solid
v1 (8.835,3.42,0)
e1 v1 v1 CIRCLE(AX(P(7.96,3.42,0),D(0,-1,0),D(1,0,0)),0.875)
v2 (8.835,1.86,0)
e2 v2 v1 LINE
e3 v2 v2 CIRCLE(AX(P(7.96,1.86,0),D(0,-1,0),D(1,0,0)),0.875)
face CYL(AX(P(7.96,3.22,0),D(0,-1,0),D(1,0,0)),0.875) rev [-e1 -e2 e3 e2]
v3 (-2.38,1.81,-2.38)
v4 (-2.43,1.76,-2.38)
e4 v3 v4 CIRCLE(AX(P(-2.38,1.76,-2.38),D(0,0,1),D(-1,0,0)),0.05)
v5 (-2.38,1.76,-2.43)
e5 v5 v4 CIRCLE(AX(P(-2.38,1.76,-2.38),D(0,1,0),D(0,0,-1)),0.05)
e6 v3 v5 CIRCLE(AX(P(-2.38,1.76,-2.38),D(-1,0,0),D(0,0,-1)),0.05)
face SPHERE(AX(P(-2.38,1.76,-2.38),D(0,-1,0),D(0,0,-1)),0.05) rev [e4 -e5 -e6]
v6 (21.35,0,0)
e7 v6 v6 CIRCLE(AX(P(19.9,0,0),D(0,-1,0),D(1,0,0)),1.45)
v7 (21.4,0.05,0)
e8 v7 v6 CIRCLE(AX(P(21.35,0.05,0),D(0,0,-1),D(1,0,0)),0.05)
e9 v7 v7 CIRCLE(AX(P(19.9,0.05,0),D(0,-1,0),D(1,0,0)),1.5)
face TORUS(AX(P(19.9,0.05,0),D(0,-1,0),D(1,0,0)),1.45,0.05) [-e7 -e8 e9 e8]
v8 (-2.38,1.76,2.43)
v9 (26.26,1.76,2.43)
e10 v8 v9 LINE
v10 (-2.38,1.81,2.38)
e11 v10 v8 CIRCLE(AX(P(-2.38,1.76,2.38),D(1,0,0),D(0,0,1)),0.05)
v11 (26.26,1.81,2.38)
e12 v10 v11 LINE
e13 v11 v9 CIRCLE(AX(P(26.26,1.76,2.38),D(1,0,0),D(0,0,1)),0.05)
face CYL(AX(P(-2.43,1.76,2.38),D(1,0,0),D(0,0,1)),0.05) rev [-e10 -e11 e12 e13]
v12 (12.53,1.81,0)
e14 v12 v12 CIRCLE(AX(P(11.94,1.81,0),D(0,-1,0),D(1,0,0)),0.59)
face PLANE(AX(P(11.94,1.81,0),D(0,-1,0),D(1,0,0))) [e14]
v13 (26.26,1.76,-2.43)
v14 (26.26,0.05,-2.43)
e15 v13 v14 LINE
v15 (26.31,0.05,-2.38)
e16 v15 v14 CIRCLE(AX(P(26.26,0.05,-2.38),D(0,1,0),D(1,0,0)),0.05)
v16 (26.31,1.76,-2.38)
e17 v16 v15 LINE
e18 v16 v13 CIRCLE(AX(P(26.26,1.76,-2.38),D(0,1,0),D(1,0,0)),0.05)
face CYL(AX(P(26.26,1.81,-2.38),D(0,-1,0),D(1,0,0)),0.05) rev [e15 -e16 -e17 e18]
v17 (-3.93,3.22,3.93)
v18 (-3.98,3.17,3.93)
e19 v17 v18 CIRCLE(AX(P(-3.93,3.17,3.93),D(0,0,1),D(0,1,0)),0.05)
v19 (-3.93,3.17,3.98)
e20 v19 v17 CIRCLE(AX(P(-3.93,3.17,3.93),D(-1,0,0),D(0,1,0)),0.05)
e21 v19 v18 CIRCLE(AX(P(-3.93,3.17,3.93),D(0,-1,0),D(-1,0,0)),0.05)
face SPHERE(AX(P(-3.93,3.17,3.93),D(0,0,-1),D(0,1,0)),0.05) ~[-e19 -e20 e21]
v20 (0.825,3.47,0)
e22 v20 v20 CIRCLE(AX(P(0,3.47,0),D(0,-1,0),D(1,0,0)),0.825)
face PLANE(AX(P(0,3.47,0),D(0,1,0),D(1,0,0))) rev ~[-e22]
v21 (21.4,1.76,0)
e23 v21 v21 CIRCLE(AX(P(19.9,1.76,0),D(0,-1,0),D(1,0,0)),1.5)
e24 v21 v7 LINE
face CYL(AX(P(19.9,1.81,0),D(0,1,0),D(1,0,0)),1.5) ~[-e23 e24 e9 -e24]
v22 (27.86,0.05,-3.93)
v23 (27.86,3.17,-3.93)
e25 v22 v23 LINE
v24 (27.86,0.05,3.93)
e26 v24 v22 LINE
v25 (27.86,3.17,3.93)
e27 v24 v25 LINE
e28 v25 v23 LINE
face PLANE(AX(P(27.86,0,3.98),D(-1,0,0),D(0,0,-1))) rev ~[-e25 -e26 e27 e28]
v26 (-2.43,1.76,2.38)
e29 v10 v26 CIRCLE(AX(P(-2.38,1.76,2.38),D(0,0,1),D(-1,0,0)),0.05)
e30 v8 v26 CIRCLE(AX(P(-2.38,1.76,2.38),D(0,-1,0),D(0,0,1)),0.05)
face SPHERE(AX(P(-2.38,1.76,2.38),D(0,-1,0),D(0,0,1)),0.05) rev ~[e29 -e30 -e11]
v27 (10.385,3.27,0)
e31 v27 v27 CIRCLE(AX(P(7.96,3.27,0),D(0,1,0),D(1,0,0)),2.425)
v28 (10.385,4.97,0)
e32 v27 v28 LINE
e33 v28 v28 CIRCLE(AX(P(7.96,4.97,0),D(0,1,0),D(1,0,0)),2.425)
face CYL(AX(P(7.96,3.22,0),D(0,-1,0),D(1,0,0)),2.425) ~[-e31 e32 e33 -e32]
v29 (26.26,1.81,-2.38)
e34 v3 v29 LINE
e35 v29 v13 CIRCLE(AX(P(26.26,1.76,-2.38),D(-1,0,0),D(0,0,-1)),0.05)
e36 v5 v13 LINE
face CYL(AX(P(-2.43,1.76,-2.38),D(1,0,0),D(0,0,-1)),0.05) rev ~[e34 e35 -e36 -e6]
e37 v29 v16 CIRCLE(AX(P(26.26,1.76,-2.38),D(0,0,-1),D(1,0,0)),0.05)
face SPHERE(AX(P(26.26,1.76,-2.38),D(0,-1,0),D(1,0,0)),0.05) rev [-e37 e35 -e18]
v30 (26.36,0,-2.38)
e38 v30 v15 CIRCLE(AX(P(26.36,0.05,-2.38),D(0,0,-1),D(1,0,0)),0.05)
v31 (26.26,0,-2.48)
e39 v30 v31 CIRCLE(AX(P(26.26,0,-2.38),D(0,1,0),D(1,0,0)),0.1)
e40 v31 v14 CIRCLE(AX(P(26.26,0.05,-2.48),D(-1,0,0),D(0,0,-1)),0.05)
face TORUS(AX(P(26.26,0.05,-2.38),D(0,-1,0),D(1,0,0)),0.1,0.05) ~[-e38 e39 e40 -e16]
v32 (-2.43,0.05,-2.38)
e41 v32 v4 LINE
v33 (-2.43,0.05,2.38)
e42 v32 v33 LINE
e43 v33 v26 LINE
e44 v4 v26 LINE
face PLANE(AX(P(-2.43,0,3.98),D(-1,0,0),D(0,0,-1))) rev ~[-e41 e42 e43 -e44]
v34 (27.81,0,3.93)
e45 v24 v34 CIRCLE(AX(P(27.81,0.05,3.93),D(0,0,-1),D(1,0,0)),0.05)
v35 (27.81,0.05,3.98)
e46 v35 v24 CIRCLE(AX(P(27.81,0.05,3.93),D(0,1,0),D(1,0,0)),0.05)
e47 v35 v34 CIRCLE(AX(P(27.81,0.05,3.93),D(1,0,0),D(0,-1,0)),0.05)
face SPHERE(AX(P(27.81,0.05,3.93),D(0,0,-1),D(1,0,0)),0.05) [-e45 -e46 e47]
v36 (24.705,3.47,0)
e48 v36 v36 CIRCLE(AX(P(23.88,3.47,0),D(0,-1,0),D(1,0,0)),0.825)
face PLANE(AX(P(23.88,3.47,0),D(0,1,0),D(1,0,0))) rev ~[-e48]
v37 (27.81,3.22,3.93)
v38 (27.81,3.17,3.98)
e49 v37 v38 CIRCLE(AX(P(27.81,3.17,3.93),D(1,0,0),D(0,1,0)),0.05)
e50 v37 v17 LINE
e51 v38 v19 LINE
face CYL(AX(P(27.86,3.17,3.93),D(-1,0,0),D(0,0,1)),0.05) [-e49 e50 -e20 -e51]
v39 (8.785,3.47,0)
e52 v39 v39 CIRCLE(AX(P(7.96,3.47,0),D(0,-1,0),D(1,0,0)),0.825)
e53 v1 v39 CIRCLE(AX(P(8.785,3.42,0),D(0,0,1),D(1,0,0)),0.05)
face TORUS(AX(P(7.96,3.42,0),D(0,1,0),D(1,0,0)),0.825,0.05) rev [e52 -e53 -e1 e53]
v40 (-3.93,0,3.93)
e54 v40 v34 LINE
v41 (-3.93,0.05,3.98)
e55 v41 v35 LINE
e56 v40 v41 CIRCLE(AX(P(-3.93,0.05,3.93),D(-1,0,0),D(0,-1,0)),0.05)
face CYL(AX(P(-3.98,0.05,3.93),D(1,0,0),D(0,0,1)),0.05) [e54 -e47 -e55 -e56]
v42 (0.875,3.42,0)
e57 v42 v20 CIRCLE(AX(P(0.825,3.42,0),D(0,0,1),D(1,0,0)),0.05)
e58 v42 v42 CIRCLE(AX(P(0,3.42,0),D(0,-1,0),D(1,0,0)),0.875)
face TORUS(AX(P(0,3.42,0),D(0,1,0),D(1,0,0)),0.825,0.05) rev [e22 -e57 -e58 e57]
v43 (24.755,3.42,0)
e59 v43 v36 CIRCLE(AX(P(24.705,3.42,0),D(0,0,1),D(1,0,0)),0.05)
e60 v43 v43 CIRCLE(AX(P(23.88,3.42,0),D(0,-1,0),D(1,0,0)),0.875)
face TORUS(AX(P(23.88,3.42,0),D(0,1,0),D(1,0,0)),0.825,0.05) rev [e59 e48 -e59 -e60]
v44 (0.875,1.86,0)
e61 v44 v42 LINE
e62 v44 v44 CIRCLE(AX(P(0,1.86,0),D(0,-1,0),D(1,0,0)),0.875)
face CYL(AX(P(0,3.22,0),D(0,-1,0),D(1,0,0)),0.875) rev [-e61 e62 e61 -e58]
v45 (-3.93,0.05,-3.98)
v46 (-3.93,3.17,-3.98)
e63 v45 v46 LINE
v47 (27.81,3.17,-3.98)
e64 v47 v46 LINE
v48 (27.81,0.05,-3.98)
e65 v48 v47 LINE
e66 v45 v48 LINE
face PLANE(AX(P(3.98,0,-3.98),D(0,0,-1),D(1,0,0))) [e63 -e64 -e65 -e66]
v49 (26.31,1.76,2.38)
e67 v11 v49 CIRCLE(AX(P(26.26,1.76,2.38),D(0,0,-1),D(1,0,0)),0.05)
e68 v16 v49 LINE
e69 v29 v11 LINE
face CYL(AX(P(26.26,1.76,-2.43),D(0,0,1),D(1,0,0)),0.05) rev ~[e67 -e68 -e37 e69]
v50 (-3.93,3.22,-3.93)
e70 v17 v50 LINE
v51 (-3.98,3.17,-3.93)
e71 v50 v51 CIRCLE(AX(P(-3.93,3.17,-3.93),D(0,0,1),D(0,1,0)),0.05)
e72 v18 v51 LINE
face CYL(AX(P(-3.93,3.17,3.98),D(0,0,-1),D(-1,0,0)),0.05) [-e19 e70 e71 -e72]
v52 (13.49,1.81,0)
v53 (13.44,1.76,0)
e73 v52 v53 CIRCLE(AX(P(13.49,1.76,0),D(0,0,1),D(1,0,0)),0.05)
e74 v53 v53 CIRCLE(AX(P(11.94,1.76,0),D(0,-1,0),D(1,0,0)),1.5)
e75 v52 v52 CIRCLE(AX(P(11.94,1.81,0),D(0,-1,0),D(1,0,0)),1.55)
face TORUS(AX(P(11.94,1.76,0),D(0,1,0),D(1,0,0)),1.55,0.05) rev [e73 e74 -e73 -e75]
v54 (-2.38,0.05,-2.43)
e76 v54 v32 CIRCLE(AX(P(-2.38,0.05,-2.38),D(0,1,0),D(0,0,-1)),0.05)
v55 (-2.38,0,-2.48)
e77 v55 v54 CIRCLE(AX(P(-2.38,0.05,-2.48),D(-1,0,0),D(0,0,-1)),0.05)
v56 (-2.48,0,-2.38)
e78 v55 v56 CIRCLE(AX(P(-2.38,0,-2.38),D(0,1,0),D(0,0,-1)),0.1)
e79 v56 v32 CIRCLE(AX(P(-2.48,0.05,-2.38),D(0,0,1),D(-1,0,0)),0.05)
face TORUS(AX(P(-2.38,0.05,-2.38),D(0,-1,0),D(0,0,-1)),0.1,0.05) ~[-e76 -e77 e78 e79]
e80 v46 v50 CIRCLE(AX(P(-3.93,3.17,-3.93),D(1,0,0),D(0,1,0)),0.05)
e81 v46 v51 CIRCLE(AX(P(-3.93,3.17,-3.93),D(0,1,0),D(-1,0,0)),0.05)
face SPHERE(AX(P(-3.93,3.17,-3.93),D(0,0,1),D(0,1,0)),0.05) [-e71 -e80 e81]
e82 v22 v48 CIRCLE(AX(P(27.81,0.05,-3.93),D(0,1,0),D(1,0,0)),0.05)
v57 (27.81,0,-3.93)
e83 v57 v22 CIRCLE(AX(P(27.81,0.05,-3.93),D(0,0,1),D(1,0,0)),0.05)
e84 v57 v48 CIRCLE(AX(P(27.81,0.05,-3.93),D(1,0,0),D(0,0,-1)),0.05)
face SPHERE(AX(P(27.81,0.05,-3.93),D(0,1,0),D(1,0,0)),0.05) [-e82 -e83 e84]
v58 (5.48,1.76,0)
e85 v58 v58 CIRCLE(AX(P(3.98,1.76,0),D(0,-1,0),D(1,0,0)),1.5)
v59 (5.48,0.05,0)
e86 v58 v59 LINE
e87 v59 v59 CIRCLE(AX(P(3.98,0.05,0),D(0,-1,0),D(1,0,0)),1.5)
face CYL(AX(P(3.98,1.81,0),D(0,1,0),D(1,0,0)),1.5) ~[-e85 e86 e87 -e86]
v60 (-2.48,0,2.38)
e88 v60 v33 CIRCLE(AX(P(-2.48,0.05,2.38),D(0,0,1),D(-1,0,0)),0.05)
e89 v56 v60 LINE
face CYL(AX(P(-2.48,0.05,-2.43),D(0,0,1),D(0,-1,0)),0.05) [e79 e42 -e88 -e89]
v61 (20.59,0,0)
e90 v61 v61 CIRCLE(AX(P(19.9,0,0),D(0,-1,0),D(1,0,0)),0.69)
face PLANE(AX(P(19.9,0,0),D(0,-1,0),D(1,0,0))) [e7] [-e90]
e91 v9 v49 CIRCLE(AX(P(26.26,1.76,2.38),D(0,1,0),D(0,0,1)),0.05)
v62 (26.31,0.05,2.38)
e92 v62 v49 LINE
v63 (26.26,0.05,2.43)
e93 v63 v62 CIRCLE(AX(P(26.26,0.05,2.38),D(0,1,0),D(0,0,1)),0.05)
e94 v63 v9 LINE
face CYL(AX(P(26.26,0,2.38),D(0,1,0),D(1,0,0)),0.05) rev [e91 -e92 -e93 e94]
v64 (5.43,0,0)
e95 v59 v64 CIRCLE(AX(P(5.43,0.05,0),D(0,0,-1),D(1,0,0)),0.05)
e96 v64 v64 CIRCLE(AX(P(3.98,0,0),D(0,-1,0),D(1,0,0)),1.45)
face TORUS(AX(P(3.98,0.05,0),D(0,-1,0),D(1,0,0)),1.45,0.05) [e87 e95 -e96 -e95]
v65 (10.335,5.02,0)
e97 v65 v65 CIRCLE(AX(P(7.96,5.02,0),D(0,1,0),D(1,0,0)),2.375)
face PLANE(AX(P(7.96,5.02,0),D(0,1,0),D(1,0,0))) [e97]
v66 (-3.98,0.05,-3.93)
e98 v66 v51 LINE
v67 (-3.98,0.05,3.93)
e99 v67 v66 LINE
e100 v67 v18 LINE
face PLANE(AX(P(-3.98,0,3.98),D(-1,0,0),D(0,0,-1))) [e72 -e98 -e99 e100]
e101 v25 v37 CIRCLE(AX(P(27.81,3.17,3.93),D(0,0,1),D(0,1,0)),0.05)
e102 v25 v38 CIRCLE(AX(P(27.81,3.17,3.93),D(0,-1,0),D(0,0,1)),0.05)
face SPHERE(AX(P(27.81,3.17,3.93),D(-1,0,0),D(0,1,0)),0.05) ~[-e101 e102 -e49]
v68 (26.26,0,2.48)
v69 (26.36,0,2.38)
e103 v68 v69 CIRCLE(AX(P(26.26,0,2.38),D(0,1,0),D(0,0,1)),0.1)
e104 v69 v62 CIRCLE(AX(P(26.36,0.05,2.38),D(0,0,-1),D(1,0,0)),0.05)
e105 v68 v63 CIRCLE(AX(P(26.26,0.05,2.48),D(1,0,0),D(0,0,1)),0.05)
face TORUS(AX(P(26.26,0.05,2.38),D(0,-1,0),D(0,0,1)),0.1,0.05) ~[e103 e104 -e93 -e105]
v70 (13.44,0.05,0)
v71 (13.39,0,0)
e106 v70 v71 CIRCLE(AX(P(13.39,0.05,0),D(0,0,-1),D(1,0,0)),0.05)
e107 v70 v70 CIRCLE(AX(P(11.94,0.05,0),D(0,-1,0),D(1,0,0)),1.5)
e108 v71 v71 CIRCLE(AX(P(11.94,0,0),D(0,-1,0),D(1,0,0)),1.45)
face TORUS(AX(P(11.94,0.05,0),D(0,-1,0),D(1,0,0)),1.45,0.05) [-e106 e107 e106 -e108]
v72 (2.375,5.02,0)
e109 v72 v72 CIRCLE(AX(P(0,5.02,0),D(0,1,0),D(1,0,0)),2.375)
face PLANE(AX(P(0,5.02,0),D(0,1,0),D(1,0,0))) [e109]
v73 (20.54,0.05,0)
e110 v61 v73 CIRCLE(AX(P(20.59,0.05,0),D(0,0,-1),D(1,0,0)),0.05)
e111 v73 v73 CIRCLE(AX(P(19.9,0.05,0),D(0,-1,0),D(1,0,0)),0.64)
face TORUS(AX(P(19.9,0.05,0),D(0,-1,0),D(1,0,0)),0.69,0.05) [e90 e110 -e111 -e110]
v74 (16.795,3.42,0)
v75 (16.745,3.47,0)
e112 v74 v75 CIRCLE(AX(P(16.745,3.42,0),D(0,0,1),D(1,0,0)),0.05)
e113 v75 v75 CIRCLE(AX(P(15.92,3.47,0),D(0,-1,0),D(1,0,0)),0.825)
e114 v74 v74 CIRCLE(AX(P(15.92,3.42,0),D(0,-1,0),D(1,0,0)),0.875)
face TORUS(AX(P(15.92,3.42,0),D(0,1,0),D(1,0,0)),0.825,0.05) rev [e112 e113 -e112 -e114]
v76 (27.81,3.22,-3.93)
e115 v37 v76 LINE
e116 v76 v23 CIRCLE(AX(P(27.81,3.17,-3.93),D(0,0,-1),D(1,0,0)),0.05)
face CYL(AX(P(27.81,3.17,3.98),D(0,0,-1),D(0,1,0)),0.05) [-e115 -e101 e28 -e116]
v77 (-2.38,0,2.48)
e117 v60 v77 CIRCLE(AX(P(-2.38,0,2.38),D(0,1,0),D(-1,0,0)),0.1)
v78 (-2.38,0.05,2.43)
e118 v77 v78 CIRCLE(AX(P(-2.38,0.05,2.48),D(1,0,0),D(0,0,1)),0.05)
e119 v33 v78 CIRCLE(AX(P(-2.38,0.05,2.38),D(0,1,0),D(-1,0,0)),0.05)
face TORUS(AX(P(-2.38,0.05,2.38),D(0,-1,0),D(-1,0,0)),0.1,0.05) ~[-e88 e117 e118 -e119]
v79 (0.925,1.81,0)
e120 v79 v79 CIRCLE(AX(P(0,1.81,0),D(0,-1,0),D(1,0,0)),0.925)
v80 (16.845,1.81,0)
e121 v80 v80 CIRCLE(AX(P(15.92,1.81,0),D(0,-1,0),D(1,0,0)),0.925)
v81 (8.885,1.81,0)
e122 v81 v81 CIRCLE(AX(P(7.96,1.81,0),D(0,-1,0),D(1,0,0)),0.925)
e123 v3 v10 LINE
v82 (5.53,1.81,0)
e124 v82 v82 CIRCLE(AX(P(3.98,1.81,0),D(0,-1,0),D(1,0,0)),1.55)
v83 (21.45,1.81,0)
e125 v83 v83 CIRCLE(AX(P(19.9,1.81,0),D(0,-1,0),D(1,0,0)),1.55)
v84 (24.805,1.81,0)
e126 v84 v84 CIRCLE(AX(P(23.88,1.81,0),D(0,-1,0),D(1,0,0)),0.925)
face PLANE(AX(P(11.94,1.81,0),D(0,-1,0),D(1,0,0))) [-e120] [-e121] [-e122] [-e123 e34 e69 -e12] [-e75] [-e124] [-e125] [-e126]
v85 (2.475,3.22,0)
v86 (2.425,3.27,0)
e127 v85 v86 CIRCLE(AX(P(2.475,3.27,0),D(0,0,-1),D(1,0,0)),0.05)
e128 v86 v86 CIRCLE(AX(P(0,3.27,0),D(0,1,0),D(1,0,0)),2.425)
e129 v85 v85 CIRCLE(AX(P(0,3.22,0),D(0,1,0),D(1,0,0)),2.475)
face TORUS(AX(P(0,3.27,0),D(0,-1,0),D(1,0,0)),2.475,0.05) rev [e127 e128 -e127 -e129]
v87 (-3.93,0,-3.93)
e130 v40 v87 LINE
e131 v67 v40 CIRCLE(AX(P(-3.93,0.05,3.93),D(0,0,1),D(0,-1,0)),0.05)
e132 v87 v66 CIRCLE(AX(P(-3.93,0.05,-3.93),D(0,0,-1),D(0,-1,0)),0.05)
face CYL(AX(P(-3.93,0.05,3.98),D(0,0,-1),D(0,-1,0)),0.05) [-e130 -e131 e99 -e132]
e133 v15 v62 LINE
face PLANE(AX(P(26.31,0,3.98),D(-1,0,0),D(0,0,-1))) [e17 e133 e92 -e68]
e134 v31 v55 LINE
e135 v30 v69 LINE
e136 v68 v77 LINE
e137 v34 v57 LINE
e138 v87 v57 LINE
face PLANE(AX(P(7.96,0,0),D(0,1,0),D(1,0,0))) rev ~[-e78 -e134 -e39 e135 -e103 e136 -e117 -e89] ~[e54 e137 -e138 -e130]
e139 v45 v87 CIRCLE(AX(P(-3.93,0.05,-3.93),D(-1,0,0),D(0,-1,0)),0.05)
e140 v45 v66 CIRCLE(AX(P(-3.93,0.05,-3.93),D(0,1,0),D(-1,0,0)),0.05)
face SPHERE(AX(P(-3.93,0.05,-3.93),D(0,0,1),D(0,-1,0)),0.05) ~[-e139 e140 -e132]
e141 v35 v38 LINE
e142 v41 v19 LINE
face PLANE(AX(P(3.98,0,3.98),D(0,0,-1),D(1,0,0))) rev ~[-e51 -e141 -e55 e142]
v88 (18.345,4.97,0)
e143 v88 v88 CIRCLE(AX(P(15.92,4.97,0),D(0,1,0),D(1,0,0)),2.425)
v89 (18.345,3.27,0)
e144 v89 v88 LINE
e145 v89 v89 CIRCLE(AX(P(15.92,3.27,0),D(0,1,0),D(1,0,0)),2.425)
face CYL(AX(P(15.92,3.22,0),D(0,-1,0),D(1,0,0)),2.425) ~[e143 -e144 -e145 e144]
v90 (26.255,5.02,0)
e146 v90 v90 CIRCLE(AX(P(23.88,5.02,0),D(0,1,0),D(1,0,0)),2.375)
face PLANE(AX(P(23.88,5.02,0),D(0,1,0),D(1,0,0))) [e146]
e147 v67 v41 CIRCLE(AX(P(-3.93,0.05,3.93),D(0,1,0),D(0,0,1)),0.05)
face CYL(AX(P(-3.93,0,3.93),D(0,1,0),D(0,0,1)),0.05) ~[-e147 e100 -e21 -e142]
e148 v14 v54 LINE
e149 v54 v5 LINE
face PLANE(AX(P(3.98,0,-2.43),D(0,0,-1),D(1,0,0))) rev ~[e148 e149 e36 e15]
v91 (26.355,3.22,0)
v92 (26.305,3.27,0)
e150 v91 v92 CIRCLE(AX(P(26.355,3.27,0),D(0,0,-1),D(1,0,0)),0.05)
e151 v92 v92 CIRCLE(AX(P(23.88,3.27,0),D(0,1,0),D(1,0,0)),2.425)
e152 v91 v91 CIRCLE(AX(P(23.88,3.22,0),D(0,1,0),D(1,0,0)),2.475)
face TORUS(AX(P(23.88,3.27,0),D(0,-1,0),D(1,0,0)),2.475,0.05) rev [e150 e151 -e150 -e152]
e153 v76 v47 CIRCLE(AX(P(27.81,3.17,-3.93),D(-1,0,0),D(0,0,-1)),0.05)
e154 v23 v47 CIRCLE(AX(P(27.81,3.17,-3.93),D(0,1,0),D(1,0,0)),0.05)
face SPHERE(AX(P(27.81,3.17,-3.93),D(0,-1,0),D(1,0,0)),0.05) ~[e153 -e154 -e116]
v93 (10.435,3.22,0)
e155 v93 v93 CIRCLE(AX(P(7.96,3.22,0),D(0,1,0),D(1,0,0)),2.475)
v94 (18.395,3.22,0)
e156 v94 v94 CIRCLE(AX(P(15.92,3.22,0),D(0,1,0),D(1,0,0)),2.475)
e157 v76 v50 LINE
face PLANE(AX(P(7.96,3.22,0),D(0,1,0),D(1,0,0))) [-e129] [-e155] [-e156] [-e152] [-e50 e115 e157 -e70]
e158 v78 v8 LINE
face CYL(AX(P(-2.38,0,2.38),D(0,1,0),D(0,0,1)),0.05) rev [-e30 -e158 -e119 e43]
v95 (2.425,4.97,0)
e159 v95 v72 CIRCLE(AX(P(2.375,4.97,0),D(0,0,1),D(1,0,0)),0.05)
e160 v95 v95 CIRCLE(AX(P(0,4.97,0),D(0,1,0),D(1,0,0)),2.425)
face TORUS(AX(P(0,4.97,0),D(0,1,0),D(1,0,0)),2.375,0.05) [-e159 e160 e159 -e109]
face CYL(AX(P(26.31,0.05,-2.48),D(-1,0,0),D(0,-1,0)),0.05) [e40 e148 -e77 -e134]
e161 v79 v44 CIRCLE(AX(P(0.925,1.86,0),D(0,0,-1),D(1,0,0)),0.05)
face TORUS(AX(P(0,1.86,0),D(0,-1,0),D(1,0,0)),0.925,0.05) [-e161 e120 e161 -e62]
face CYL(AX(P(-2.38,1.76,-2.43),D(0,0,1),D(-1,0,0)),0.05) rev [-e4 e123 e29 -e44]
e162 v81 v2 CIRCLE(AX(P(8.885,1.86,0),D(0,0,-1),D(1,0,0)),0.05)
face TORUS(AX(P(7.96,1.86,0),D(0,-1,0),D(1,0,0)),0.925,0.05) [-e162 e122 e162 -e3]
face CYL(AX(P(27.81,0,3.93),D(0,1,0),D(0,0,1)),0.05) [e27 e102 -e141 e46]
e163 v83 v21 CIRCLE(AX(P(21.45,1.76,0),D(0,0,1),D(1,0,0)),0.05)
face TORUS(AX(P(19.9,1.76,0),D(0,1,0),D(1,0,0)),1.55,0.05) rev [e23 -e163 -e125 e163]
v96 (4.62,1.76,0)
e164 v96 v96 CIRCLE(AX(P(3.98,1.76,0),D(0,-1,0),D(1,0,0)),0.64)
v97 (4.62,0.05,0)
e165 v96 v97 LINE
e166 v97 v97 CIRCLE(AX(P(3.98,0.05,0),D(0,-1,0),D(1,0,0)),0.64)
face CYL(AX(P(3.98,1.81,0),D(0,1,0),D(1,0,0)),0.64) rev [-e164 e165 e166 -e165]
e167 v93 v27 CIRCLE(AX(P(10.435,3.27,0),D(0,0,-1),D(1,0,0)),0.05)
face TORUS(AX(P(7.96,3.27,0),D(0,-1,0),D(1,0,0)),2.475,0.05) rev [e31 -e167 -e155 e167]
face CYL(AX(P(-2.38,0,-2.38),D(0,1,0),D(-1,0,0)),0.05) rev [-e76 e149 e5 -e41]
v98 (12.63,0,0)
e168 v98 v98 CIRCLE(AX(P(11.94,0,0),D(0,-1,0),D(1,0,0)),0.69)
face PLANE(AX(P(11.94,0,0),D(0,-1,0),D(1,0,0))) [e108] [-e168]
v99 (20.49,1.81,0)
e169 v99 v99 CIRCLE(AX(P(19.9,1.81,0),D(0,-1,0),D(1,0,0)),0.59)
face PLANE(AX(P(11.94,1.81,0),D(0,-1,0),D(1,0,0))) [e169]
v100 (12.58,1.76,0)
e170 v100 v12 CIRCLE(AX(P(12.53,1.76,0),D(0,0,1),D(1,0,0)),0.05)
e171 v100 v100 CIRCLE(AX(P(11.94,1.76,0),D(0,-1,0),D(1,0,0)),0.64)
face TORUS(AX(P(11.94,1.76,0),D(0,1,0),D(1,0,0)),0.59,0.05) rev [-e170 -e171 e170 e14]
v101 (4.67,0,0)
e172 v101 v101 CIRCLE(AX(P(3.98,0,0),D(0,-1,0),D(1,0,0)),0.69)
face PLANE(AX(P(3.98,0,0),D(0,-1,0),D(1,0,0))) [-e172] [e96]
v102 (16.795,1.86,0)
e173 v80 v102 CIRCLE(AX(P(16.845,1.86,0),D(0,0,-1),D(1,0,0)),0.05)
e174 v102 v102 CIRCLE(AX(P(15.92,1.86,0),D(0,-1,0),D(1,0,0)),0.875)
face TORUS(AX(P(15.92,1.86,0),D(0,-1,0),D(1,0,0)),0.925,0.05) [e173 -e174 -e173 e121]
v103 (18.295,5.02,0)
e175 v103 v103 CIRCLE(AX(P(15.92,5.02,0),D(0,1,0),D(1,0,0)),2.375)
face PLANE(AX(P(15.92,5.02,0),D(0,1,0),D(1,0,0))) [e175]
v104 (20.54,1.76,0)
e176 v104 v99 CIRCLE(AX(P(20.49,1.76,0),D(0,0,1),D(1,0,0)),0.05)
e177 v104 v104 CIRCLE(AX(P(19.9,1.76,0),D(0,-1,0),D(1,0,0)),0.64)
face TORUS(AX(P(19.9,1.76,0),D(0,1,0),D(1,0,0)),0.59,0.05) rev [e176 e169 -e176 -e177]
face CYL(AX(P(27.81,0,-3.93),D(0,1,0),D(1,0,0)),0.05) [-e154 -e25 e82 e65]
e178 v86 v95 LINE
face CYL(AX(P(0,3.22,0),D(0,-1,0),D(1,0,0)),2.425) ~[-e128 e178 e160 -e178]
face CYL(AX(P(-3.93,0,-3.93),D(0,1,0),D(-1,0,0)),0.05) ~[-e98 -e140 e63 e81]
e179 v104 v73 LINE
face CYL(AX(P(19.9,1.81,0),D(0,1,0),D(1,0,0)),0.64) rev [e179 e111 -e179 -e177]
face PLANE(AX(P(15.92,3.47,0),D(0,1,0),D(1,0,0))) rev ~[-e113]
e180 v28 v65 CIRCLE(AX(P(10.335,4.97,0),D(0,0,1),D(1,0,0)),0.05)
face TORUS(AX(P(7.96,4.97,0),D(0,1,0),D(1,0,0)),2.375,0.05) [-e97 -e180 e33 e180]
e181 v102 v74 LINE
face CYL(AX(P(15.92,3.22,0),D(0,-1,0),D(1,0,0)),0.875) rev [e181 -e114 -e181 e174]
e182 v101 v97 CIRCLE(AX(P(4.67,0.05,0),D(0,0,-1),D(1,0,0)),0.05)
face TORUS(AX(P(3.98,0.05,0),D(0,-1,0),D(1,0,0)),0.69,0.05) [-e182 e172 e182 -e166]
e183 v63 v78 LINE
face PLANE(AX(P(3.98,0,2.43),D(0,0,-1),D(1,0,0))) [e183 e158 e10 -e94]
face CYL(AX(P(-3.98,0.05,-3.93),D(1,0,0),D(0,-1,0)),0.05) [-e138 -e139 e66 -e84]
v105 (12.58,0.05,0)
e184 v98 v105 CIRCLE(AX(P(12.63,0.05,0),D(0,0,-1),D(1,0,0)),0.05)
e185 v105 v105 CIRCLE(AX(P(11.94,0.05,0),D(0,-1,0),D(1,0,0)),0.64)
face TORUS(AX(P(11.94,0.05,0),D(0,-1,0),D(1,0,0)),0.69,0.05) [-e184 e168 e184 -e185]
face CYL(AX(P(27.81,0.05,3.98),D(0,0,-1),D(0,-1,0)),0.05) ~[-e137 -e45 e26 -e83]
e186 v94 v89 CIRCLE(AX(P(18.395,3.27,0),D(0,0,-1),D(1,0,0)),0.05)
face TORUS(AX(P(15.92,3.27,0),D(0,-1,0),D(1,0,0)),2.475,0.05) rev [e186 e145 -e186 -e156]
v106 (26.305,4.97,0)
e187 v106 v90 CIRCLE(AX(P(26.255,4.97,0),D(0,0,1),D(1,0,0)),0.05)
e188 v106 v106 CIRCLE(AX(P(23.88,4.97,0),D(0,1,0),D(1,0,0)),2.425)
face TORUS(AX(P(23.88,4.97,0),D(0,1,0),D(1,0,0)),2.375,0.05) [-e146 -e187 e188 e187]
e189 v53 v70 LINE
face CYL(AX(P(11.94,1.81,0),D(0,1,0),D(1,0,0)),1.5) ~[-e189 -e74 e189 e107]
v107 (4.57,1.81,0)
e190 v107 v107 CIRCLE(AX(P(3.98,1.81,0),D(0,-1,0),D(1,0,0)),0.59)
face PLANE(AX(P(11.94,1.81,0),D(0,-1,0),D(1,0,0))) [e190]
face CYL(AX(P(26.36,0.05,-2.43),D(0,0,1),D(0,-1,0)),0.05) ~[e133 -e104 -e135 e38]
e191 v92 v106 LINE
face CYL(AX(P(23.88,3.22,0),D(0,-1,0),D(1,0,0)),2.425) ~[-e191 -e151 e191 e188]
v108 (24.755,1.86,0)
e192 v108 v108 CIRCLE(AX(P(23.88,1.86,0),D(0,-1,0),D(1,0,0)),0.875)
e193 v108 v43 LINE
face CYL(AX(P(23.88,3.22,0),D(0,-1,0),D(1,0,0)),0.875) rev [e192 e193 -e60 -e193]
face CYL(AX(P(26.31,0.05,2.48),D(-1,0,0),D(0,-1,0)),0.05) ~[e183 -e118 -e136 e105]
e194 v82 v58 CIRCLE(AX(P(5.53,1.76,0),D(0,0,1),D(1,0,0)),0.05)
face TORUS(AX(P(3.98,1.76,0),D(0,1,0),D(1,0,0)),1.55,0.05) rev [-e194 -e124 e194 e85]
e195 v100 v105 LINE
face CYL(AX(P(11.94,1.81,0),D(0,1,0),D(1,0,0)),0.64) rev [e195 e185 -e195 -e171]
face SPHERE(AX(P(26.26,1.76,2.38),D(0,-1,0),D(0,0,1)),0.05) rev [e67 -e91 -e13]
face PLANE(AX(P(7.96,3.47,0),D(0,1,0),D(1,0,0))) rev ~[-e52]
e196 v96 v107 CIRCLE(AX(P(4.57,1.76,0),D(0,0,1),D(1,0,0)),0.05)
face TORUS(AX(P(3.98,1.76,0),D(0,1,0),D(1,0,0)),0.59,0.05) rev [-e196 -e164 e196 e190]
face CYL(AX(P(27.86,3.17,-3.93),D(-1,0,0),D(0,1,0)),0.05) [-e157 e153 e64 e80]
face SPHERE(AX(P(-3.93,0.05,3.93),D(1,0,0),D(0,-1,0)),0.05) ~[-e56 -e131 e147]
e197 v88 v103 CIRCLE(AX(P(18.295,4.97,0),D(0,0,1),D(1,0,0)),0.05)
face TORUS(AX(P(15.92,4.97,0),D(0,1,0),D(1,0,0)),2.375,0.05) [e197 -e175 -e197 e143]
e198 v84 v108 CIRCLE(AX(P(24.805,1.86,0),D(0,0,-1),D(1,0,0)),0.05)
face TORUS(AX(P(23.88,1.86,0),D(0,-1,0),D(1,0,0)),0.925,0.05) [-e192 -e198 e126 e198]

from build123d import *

# Parameters (mm, degrees)
SKETCH1_W       = 7.96
SKETCH1_H       = 7.96
EXTRUDE1_DEPTH  = 3.22
SKETCH2_R       = 2.425
EXTRUDE2_DEPTH  = 1.8
LPATTERN1_COUNT = 4
LPATTERN1_PITCH = 7.96
SHELL1_T        = -1.55
SKETCH3_W       = 28.74
SKETCH3_H       = 4.86
EXTRUDE3_DEPTH  = 0.14
SKETCH5_R       = 1.5
SKETCH5_R_2     = 0.64
EXTRUDE4_DEPTH  = 1.81
FILLET1_R       = 0.05


with BuildPart() as part:
    # Sketch1 → Extrude1 (new body)
    with BuildSketch(Plane(origin=(0, 0, 0), x_dir=(1, 0, 0), z_dir=(0, 1, 0))):
        Rectangle(SKETCH1_W, SKETCH1_H)
    extrude1 = extrude(amount=EXTRUDE1_DEPTH)

    # Sketch2 → Extrude2 (add)
    with BuildSketch(Plane(origin=(0, 3.22, 0), x_dir=(1, 0, 0), z_dir=(0, 1, 0))):
        Circle(SKETCH2_R)
    extrude2 = extrude(amount=EXTRUDE2_DEPTH)

    # LPattern1: Extrude1, Extrude2 ×4
    with Locations(*[(i * LPATTERN1_PITCH, 0, 0) for i in range(1, LPATTERN1_COUNT)]):
        add(extrude1)
        add(extrude2)

    # Shell1
    shell1_openings = [part.faces().sort_by_distance(p)[0] for p in [
        (11.94, 0, 0),
    ]]
    offset(amount=SHELL1_T, openings=shell1_openings, kind=Kind.INTERSECTION)

    # Sketch3 → Extrude3 (cut)
    with BuildSketch(Plane.XZ.offset(-1.67)):
        with Locations((11.94, 0)):
            Rectangle(SKETCH3_W, SKETCH3_H)
    extrude(amount=-EXTRUDE3_DEPTH, mode=Mode.SUBTRACT)

    # Sketch5 → Extrude4 (add)
    with BuildSketch(Plane.XZ.offset(-1.81)):
        with Locations((3.98, 0)):
            Circle(SKETCH5_R)
        with Locations((3.98, 0)):
            Circle(SKETCH5_R_2, mode=Mode.SUBTRACT)
        with Locations((11.94, 0)):
            Circle(SKETCH5_R)
        with Locations((11.94, 0)):
            Circle(SKETCH5_R_2, mode=Mode.SUBTRACT)
        with Locations((19.9, 0)):
            Circle(SKETCH5_R)
        with Locations((19.9, 0)):
            Circle(SKETCH5_R_2, mode=Mode.SUBTRACT)
    extrude(amount=EXTRUDE4_DEPTH)

    # Fillet1
    fillet1_edges = [part.edges().sort_by_distance(p)[0] for p in [
        (-3.98, 3.22, 0),
        (11.94, 3.22, 3.98),
        (-2.425, 3.22, 0),
        (-2.425, 5.02, 0),
        (27.86, 1.61, -3.98),
        (27.86, 3.22, 0),
        (27.86, 0, 0),
        (27.86, 1.61, 3.98),
        (5.535, 3.22, 0),
        (5.535, 5.02, 0),
        (13.495, 3.22, 0),
        (13.495, 5.02, 0),
        (21.455, 3.22, 0),
        (21.455, 5.02, 0),
        (11.94, 0, -2.43),
        (26.31, 0.905, -2.43),
        (-2.43, 0, 0),
        (-2.43, 0.905, -2.43),
        (11.94, 0, 2.43),
        (-2.43, 0.905, 2.43),
        (-0.875, 3.47, 0),
        (26.31, 0, 0),
        (26.31, 0.905, 2.43),
        (7.085, 3.47, 0),
        (15.045, 3.47, 0),
        (23.005, 3.47, 0),
        (11.94, 0, 3.98),
        (-3.98, 0, 0),
        (11.94, 0, -3.98),
        (-0.875, 1.81, 0),
        (7.085, 1.81, 0),
        (15.045, 1.81, 0),
        (23.005, 1.81, 0),
        (11.94, 1.81, 2.43),
        (26.31, 1.81, 0),
        (11.94, 1.81, -2.43),
        (-2.43, 1.81, 0),
        (11.94, 3.22, -3.98),
        (-3.98, 1.61, 3.98),
        (-3.98, 1.61, -3.98),
        (2.48, 1.81, 0),
        (3.34, 1.81, 0),
        (2.48, 0, 0),
        (3.34, 0, 0),
        (10.44, 1.81, 0),
        (11.3, 1.81, 0),
        (10.44, 0, 0),
        (11.3, 0, 0),
        (18.4, 1.81, 0),
        (19.26, 1.81, 0),
        (18.4, 0, 0),
        (19.26, 0, 0),
    ]]
    fillet(fillet1_edges, radius=FILLET1_R)


solid = part.part
